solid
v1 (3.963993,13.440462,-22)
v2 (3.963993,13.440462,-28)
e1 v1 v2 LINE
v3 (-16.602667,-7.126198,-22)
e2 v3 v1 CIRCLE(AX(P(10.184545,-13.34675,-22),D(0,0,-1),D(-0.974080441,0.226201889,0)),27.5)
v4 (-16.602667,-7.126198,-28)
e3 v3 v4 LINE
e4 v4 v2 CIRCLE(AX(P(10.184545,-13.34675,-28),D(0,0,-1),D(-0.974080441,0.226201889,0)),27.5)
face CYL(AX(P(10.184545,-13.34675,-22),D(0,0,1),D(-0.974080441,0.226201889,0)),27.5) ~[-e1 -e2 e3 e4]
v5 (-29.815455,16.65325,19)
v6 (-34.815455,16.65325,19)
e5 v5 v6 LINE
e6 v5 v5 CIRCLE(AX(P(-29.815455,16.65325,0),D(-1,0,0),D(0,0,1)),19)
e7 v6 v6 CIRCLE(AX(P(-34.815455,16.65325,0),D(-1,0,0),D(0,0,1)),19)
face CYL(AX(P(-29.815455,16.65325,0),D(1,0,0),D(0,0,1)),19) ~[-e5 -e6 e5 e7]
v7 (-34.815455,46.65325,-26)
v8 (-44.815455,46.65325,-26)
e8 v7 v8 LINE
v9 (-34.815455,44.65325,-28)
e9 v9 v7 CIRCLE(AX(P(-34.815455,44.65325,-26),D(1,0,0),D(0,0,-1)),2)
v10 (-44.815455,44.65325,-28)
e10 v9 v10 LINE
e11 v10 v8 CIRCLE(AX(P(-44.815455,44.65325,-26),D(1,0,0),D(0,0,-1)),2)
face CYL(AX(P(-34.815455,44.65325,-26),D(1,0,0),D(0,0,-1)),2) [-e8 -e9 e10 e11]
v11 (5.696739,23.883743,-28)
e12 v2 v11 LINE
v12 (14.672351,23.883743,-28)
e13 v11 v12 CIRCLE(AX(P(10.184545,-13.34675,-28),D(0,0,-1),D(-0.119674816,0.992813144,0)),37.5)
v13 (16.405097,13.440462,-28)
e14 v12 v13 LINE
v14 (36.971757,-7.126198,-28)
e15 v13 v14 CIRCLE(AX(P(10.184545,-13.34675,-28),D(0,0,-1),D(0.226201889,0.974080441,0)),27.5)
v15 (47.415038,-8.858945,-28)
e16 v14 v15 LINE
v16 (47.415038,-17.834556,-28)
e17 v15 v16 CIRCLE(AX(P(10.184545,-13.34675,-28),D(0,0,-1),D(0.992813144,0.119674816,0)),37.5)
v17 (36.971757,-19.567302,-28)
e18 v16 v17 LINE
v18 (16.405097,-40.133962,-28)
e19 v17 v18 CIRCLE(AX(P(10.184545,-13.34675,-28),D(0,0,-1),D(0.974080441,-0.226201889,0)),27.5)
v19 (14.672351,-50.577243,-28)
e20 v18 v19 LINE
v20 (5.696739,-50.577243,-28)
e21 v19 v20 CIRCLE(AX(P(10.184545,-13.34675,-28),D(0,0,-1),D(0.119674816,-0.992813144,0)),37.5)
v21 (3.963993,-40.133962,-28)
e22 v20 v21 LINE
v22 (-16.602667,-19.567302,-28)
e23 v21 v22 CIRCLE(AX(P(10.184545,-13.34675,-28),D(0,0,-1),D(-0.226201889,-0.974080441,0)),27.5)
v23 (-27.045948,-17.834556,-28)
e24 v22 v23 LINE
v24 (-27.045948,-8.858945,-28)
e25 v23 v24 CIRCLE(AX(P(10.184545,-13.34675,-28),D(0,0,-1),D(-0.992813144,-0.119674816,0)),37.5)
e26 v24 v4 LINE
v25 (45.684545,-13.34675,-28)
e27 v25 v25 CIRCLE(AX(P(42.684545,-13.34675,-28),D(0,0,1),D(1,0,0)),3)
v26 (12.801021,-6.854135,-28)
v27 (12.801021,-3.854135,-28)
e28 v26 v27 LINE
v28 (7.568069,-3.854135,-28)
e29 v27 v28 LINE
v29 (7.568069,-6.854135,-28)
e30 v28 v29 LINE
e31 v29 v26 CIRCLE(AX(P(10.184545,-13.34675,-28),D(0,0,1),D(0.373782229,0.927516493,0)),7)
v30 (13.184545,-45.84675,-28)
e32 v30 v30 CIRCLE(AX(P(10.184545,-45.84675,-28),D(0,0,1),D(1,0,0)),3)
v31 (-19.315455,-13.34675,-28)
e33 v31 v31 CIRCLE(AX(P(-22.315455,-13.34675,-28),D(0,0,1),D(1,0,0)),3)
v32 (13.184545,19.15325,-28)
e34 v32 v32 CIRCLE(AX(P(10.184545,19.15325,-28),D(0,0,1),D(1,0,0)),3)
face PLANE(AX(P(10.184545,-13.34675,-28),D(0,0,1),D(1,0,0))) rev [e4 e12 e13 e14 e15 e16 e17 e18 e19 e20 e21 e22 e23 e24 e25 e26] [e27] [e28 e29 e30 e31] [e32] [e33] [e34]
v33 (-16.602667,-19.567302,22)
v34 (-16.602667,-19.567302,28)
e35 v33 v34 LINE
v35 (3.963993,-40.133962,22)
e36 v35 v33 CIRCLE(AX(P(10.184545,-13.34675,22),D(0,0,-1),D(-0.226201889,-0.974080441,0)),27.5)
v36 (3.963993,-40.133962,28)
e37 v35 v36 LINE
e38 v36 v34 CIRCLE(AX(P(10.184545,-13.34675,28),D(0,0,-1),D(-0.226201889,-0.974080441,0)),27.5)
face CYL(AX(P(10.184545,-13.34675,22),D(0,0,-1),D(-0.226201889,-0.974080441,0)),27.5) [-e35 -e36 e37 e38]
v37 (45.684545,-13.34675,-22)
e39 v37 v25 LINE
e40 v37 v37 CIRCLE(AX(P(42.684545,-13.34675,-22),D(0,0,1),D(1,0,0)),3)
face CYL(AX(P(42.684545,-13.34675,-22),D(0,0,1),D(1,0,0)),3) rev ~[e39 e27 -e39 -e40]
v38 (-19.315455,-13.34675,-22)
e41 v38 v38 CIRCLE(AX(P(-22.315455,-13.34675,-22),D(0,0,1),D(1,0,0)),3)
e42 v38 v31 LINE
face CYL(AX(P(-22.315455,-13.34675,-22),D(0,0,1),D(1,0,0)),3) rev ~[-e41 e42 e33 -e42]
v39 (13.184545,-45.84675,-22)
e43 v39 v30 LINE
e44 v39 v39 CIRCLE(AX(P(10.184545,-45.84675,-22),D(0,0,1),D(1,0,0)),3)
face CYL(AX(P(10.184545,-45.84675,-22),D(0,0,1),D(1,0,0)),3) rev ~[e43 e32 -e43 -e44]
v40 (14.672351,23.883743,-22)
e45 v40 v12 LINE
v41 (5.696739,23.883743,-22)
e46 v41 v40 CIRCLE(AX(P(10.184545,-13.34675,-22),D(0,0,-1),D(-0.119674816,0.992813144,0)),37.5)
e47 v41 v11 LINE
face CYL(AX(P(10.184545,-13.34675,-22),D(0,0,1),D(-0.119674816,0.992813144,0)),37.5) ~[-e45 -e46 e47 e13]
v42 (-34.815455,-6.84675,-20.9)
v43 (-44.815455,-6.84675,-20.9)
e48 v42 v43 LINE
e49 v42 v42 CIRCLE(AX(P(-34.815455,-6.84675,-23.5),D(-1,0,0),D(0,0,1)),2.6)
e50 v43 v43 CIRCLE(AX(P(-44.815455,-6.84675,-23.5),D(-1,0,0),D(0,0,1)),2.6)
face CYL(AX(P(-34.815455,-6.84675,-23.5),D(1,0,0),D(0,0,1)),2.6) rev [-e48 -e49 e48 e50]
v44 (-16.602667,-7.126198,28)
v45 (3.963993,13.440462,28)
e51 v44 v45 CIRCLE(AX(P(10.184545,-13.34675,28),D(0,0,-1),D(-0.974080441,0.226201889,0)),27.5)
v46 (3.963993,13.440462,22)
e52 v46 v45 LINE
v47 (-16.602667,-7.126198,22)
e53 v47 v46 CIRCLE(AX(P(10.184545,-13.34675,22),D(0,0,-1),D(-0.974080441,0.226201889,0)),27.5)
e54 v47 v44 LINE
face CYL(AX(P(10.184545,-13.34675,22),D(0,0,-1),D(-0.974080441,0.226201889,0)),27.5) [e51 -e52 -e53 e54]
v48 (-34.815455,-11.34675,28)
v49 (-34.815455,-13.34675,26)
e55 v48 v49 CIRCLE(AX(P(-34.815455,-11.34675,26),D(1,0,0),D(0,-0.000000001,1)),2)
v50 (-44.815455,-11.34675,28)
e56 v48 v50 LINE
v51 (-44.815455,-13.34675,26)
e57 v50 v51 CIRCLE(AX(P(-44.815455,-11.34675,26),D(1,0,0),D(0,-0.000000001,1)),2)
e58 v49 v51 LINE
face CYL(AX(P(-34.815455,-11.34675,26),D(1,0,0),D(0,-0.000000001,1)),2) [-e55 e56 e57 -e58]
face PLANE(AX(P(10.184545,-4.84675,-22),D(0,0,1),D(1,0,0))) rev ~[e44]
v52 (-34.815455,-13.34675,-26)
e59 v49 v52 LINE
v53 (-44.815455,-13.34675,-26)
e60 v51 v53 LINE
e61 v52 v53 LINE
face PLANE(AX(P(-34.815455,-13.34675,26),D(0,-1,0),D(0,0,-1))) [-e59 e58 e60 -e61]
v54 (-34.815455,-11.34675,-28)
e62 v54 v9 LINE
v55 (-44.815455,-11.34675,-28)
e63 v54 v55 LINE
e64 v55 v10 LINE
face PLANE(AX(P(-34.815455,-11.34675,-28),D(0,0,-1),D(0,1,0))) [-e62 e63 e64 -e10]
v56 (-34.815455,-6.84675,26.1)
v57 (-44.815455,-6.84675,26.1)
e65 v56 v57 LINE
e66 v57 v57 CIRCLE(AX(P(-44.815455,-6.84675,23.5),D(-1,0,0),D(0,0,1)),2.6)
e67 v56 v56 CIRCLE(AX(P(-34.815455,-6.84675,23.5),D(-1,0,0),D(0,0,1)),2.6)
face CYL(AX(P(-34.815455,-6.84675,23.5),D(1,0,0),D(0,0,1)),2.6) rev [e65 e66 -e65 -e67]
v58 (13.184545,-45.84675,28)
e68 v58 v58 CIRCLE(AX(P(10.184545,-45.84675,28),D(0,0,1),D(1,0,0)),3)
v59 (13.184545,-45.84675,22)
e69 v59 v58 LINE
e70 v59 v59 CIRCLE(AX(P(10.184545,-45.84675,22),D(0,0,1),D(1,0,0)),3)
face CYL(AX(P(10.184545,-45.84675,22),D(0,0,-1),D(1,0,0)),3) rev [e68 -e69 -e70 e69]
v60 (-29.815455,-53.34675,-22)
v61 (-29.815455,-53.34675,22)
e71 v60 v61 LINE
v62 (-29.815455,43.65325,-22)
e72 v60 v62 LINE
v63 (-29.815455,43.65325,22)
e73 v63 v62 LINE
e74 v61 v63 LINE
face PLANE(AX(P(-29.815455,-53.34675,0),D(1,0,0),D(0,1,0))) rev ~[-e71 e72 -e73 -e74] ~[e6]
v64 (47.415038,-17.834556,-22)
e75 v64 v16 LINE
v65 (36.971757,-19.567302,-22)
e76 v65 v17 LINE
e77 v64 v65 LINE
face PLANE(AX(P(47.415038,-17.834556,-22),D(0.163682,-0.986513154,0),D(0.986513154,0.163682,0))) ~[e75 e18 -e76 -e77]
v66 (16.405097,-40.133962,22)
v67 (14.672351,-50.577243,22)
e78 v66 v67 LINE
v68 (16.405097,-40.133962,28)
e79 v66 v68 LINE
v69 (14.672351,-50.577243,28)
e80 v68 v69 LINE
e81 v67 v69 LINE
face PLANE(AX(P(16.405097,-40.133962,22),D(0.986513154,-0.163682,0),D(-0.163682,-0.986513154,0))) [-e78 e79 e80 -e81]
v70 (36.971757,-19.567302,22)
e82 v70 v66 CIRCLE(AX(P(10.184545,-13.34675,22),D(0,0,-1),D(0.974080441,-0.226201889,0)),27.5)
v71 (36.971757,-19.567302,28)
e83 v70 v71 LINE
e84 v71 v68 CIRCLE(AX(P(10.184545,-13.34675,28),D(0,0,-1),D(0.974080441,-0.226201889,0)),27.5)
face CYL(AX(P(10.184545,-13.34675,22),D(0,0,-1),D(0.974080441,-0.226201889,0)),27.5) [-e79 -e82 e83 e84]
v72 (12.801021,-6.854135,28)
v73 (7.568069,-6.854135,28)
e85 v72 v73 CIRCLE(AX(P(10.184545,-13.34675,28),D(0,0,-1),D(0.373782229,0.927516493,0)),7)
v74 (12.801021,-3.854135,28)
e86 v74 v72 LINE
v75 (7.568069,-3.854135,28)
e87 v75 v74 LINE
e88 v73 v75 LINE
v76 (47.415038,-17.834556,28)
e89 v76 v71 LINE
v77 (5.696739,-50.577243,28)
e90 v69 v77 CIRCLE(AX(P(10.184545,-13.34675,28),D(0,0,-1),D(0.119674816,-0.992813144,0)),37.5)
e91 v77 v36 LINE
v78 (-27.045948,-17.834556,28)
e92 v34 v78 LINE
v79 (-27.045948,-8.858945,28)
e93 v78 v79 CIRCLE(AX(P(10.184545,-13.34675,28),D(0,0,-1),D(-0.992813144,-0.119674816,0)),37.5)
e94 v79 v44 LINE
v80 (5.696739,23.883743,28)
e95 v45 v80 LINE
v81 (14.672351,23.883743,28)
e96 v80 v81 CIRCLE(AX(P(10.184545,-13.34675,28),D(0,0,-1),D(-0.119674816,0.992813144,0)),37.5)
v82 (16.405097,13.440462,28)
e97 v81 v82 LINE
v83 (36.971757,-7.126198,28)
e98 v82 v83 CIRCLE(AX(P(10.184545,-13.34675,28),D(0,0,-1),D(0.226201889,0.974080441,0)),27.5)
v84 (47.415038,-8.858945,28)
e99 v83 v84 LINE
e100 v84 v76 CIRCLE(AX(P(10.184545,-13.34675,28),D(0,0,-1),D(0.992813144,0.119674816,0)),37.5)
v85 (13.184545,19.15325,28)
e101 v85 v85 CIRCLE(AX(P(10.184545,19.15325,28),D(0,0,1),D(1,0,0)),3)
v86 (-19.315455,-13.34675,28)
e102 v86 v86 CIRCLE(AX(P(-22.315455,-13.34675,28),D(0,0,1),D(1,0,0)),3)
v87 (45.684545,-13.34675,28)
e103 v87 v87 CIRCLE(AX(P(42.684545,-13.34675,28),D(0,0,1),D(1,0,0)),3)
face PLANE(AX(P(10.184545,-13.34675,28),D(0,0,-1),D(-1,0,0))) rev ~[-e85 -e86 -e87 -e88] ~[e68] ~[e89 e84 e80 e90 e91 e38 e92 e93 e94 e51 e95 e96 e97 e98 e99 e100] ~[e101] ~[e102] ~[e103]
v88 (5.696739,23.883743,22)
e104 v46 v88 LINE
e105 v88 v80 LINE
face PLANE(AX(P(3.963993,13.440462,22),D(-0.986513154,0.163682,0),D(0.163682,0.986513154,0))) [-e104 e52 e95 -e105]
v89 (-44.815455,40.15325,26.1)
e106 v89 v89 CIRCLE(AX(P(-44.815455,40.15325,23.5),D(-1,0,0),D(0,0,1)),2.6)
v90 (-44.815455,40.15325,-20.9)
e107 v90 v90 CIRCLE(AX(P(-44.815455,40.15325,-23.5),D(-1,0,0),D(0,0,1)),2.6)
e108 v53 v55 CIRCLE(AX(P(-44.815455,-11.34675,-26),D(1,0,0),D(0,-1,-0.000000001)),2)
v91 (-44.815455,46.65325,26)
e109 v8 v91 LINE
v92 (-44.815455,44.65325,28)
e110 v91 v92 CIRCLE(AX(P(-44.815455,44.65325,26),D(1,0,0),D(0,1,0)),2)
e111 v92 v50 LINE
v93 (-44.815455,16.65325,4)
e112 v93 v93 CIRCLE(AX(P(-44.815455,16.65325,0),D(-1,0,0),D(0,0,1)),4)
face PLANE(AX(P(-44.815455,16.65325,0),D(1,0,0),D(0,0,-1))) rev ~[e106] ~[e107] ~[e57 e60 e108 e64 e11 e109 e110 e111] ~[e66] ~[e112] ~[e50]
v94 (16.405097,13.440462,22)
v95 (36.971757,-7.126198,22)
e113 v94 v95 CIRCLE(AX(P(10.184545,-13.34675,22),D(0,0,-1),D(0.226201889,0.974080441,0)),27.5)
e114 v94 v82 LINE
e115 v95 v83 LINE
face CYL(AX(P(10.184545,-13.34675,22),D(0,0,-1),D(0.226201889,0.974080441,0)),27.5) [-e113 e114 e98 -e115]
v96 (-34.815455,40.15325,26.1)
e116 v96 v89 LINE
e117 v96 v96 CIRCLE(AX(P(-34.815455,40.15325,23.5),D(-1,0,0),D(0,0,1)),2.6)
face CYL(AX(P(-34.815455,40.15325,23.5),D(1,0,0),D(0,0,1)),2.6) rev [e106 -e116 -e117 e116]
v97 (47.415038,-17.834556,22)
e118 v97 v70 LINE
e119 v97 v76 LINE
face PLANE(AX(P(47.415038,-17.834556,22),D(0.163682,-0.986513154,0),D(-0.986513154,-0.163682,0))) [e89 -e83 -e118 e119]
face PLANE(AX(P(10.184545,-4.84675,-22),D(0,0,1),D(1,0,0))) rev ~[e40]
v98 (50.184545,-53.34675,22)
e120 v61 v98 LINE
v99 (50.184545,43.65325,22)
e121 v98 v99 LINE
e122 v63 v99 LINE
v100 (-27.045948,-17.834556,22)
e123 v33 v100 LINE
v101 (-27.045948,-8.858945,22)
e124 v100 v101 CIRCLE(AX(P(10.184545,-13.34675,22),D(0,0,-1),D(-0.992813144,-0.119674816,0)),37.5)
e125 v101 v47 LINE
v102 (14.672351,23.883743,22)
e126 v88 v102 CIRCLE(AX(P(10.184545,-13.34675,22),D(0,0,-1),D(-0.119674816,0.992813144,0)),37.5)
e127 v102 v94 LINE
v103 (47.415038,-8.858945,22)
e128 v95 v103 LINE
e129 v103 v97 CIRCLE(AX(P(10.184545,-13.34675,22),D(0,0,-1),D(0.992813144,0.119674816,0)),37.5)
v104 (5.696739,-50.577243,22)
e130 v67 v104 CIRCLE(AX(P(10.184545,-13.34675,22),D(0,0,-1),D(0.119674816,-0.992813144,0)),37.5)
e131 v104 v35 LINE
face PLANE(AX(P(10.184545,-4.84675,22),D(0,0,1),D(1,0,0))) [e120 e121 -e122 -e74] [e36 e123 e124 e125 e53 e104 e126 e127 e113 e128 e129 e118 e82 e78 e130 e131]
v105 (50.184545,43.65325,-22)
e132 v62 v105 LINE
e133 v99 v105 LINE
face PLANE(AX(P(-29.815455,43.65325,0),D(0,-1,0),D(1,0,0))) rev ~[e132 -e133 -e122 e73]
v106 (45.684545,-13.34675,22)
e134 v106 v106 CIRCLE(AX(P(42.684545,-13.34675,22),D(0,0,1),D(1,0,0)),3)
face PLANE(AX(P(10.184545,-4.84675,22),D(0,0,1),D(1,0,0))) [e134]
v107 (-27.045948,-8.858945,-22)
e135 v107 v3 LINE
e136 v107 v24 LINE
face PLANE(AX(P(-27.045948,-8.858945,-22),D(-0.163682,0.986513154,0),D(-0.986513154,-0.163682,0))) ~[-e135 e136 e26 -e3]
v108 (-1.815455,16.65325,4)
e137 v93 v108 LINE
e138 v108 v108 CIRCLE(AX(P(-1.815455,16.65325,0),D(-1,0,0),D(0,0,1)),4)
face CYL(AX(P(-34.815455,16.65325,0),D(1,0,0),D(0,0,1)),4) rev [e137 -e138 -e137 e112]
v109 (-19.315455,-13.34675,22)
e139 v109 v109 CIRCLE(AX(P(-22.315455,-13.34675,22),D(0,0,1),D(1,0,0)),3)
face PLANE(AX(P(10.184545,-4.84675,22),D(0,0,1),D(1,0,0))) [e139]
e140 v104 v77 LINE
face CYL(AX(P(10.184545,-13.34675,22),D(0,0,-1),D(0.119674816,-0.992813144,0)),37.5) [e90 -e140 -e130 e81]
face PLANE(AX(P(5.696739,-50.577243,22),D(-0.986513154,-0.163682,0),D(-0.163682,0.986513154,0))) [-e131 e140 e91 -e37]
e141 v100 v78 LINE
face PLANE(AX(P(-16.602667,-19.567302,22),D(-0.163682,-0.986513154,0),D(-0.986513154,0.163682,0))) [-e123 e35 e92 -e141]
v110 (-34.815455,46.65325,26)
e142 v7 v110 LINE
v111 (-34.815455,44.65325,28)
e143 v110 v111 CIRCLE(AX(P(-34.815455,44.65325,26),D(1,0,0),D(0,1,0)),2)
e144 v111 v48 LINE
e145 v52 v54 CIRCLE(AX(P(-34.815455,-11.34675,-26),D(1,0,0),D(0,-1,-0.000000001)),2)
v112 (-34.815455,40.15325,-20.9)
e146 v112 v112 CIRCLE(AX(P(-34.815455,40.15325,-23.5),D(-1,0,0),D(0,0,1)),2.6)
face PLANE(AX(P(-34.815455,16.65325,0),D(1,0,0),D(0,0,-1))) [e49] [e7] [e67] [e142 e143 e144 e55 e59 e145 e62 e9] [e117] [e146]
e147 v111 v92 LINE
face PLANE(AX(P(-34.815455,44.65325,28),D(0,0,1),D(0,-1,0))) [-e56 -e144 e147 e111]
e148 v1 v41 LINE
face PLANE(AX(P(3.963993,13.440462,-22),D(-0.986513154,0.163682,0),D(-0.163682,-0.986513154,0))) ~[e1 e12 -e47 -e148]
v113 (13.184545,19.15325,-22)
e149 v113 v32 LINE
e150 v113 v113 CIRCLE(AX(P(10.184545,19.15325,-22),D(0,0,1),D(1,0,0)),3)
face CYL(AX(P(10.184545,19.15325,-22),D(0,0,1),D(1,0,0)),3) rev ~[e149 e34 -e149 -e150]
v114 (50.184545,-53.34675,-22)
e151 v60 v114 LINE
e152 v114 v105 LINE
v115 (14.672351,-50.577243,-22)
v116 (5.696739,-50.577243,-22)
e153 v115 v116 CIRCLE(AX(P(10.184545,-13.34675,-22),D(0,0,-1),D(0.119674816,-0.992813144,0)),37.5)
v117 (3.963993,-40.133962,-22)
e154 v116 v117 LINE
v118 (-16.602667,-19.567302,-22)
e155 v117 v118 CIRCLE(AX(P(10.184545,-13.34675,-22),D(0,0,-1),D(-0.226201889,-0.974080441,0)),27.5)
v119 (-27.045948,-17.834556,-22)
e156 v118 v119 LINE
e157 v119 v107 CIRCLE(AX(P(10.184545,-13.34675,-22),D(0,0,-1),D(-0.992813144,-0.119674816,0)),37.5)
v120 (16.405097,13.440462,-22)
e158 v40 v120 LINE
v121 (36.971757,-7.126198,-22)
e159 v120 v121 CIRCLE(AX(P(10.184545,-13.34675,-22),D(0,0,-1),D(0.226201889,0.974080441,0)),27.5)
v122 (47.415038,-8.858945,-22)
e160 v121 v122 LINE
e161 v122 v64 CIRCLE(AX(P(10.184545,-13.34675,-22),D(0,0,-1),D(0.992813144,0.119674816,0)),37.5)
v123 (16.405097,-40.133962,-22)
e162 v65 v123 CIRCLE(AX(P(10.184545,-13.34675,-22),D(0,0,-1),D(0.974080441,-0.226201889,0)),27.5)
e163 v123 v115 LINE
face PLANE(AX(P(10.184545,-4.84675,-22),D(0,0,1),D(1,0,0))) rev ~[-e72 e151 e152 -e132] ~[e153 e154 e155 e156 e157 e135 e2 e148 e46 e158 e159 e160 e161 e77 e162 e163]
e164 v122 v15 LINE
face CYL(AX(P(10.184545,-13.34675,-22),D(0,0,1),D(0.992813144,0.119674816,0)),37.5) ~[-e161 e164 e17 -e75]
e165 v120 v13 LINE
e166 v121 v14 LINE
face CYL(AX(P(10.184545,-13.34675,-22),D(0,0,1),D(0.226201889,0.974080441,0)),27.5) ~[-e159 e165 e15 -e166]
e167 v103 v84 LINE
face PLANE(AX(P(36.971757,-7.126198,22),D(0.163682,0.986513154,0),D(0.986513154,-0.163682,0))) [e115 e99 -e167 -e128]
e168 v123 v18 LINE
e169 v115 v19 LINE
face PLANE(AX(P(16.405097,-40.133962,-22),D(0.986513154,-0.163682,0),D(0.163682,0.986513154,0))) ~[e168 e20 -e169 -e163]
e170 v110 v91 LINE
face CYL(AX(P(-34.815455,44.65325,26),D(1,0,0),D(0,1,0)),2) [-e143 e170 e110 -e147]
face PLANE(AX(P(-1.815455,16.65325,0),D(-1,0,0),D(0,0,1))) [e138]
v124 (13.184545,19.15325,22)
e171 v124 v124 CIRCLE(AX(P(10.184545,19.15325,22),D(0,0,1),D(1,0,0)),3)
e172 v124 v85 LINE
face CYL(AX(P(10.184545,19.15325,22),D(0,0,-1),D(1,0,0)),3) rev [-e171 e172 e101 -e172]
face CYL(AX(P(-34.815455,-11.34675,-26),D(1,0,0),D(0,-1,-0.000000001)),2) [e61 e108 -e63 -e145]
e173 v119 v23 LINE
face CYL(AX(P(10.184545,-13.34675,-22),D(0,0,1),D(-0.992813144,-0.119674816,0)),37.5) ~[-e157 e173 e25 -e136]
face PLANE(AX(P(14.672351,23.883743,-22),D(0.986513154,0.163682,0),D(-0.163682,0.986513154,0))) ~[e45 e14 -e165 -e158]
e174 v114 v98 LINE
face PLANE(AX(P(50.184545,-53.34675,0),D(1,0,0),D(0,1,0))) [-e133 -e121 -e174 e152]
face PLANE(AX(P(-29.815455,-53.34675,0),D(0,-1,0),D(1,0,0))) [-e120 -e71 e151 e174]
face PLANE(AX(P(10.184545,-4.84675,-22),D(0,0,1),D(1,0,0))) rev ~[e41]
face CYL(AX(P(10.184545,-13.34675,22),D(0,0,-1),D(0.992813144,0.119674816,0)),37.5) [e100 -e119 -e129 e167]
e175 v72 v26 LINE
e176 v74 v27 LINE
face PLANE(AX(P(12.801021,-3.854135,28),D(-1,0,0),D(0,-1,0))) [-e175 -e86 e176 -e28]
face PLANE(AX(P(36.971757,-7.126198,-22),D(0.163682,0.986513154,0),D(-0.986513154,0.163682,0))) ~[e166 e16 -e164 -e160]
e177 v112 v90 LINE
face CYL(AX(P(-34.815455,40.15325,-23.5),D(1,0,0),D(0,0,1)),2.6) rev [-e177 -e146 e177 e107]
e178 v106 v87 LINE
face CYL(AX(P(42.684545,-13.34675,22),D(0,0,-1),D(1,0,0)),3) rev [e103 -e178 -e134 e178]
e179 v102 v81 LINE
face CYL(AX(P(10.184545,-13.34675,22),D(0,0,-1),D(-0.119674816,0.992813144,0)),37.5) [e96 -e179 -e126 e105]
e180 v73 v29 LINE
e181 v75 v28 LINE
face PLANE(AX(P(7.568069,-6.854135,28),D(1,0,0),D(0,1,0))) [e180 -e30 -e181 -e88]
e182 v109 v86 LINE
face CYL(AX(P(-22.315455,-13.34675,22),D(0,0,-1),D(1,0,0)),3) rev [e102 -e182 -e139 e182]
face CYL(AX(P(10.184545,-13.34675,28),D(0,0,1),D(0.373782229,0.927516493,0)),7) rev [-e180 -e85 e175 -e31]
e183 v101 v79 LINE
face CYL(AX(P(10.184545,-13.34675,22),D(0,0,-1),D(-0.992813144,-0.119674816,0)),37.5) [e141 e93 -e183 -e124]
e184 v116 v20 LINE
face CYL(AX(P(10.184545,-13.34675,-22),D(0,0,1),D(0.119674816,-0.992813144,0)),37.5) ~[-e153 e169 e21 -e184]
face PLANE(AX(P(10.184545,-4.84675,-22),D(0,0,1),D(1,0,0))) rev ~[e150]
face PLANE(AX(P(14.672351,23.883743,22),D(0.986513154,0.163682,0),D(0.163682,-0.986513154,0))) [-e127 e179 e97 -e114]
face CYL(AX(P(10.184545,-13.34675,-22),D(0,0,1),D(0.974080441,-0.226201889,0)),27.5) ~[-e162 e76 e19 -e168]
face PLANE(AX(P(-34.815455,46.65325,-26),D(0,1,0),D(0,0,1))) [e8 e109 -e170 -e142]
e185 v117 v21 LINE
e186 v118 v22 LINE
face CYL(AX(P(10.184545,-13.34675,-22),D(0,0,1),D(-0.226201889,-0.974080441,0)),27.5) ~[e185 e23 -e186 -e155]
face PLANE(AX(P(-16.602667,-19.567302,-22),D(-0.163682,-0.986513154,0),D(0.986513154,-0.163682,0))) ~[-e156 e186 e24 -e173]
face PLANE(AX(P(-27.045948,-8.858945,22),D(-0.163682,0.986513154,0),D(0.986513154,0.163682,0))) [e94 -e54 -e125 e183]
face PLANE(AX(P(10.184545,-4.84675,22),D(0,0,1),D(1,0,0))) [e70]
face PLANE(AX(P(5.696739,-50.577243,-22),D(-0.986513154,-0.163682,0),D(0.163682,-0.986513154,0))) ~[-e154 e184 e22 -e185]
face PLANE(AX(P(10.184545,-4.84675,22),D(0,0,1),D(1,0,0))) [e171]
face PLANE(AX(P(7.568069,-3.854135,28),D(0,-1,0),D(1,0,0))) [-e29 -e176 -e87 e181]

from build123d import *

# Parameters (mm, degrees)
EXTRUDE_1_DEPTH      = 22
EXTRUDE_1_DEPTH_BACK = 22
SKETCH_1_W           = 80
SKETCH_1_H           = 97
SKETCH_2_R           = 3
EXTRUDE_2_DEPTH      = 6
CUT_EXTRUDE_1_DEPTH  = 116
SKETCH_4_R           = 19
SKETCH_4_R_2         = 4
EXTRUDE_3_DEPTH      = 5
SKETCH_5_R           = 2.6
SKETCH_5_R_2         = 4
EXTRUDE_4_DEPTH      = 10
CUT_EXTRUDE_START    = -28
SKETCH_6_R           = 4
CUT_EXTRUDE_2_DEPTH  = 28


with BuildPart() as part:
    # 草图1 → 凸台-拉伸1 (new, two sides: drawn at the far end of the back side and taken through both)
    with BuildSketch(Plane.XY.offset(-EXTRUDE_1_DEPTH_BACK)):
        with Locations((10.184545044, -4.84675016)):
            Rectangle(SKETCH_1_W, SKETCH_1_H)
    extrude(amount=EXTRUDE_1_DEPTH + EXTRUDE_1_DEPTH_BACK)

    # 草图2 → 凸台-拉伸2 (add)
    with BuildSketch(Plane.XY.offset(22)):
        with BuildLine():
            Line((5.696739445, -50.577243051), (3.963993083, -40.133962282))
            ThreePointArc((3.963993083, -40.133962282), (-9.260891439, -32.792186642), (-16.602667079, -19.56730212))
            Line((-16.602667079, -19.56730212), (-27.045947847, -17.834555759))
            ThreePointArc((-27.045947847, -17.834555759), (-27.315454956, -13.34675016), (-27.045947847, -8.858944561))
            Line((-27.045947847, -8.858944561), (-16.602667079, -7.126198199))
            ThreePointArc((-16.602667079, -7.126198199), (-9.260891439, 6.098686323), (3.963993083, 13.440461963))
            Line((3.963993083, 13.440461963), (5.696739445, 23.883742731))
            ThreePointArc((5.696739445, 23.883742731), (10.184545044, 24.15324984), (14.672350643, 23.883742731))
            Line((14.672350643, 23.883742731), (16.405097004, 13.440461963))
            ThreePointArc((16.405097004, 13.440461963), (29.629981526, 6.098686323), (36.971757166, -7.126198199))
            Line((36.971757166, -7.126198199), (47.415037935, -8.858944561))
            ThreePointArc((47.415037935, -8.858944561), (47.684545044, -13.34675016), (47.415037935, -17.834555759))
            Line((47.415037935, -17.834555759), (36.971757166, -19.56730212))
            ThreePointArc((36.971757166, -19.56730212), (29.629981526, -32.792186642), (16.405097004, -40.133962282))
            Line((16.405097004, -40.133962282), (14.672350643, -50.577243051))
            ThreePointArc((14.672350643, -50.577243051), (10.184545044, -50.84675016), (5.696739445, -50.577243051))
        make_face()
        with Locations((10.184545044, -45.84675016)):
            Circle(SKETCH_2_R, mode=Mode.SUBTRACT)
        with Locations((-22.315454956, -13.34675016)):
            Circle(SKETCH_2_R, mode=Mode.SUBTRACT)
        with Locations((10.184545044, 19.15324984)):
            Circle(SKETCH_2_R, mode=Mode.SUBTRACT)
        with Locations((42.684545044, -13.34675016)):
            Circle(SKETCH_2_R, mode=Mode.SUBTRACT)
    extrude_2 = extrude(amount=EXTRUDE_2_DEPTH)

    # 镜向1: 凸台-拉伸2 across plane
    add(extrude_2.mirror(Plane.XY))

    # 草图3 → 切除-拉伸1 (cut)
    with BuildSketch(Plane.XY.offset(28)):
        with BuildLine():
            Line((7.568069443, -6.854134706), (7.568069443, -3.854134706))
            Line((7.568069443, -3.854134706), (12.801020645, -3.854134706))
            Line((12.801020645, -3.854134706), (12.801020645, -6.854134706))
            ThreePointArc((12.801020645, -6.854134706), (10.184545044, -20.34675016), (7.568069443, -6.854134706))
        make_face()
    extrude(amount=-CUT_EXTRUDE_1_DEPTH, mode=Mode.SUBTRACT)

    # 草图4 → 凸台-拉伸3 (add)
    with BuildSketch(Plane.ZY.offset(29.815454956)):
        with Locations((0, 16.65324984)):
            Circle(SKETCH_4_R)
        with Locations((0, 16.65324984)):
            Circle(SKETCH_4_R_2, mode=Mode.SUBTRACT)
    extrude(amount=EXTRUDE_3_DEPTH)

    # 草图5 → 凸台-拉伸4 (add)
    with BuildSketch(Plane.ZY.offset(34.815454956)):
        with BuildLine():
            Line((-26, 46.65324984), (26, 46.65324984))
            ThreePointArc((26, 46.65324984), (27.414213562, 46.067463403), (28, 44.65324984))
            Line((28, 44.65324984), (28, -11.34675016))
            ThreePointArc((28, -11.34675016), (27.414213562, -12.760963722), (26, -13.34675016))
            Line((26, -13.34675016), (-26, -13.34675016))
            ThreePointArc((-26, -13.34675016), (-27.414213562, -12.760963722), (-28, -11.34675016))
            Line((-28, -11.34675016), (-28, 44.65324984))
            ThreePointArc((-28, 44.65324984), (-27.414213562, 46.067463403), (-26, 46.65324984))
        make_face()
        with Locations((23.5, 40.15324984)):
            Circle(SKETCH_5_R, mode=Mode.SUBTRACT)
        with Locations((-23.5, 40.15324984)):
            Circle(SKETCH_5_R, mode=Mode.SUBTRACT)
        with Locations((23.5, -6.84675016)):
            Circle(SKETCH_5_R, mode=Mode.SUBTRACT)
        with Locations((-23.5, -6.84675016)):
            Circle(SKETCH_5_R, mode=Mode.SUBTRACT)
        with Locations((0, 16.65324984)):
            Circle(SKETCH_5_R_2, mode=Mode.SUBTRACT)
    extrude(amount=EXTRUDE_4_DEPTH)

    # 草图6 → 切除-拉伸2 (cut)
    with BuildSketch(Plane.ZY.offset(29.815454956).offset(CUT_EXTRUDE_START)):
        with Locations((0, 16.65324984)):
            Circle(SKETCH_6_R)
    extrude(amount=CUT_EXTRUDE_2_DEPTH, mode=Mode.SUBTRACT)


solid = part.part
